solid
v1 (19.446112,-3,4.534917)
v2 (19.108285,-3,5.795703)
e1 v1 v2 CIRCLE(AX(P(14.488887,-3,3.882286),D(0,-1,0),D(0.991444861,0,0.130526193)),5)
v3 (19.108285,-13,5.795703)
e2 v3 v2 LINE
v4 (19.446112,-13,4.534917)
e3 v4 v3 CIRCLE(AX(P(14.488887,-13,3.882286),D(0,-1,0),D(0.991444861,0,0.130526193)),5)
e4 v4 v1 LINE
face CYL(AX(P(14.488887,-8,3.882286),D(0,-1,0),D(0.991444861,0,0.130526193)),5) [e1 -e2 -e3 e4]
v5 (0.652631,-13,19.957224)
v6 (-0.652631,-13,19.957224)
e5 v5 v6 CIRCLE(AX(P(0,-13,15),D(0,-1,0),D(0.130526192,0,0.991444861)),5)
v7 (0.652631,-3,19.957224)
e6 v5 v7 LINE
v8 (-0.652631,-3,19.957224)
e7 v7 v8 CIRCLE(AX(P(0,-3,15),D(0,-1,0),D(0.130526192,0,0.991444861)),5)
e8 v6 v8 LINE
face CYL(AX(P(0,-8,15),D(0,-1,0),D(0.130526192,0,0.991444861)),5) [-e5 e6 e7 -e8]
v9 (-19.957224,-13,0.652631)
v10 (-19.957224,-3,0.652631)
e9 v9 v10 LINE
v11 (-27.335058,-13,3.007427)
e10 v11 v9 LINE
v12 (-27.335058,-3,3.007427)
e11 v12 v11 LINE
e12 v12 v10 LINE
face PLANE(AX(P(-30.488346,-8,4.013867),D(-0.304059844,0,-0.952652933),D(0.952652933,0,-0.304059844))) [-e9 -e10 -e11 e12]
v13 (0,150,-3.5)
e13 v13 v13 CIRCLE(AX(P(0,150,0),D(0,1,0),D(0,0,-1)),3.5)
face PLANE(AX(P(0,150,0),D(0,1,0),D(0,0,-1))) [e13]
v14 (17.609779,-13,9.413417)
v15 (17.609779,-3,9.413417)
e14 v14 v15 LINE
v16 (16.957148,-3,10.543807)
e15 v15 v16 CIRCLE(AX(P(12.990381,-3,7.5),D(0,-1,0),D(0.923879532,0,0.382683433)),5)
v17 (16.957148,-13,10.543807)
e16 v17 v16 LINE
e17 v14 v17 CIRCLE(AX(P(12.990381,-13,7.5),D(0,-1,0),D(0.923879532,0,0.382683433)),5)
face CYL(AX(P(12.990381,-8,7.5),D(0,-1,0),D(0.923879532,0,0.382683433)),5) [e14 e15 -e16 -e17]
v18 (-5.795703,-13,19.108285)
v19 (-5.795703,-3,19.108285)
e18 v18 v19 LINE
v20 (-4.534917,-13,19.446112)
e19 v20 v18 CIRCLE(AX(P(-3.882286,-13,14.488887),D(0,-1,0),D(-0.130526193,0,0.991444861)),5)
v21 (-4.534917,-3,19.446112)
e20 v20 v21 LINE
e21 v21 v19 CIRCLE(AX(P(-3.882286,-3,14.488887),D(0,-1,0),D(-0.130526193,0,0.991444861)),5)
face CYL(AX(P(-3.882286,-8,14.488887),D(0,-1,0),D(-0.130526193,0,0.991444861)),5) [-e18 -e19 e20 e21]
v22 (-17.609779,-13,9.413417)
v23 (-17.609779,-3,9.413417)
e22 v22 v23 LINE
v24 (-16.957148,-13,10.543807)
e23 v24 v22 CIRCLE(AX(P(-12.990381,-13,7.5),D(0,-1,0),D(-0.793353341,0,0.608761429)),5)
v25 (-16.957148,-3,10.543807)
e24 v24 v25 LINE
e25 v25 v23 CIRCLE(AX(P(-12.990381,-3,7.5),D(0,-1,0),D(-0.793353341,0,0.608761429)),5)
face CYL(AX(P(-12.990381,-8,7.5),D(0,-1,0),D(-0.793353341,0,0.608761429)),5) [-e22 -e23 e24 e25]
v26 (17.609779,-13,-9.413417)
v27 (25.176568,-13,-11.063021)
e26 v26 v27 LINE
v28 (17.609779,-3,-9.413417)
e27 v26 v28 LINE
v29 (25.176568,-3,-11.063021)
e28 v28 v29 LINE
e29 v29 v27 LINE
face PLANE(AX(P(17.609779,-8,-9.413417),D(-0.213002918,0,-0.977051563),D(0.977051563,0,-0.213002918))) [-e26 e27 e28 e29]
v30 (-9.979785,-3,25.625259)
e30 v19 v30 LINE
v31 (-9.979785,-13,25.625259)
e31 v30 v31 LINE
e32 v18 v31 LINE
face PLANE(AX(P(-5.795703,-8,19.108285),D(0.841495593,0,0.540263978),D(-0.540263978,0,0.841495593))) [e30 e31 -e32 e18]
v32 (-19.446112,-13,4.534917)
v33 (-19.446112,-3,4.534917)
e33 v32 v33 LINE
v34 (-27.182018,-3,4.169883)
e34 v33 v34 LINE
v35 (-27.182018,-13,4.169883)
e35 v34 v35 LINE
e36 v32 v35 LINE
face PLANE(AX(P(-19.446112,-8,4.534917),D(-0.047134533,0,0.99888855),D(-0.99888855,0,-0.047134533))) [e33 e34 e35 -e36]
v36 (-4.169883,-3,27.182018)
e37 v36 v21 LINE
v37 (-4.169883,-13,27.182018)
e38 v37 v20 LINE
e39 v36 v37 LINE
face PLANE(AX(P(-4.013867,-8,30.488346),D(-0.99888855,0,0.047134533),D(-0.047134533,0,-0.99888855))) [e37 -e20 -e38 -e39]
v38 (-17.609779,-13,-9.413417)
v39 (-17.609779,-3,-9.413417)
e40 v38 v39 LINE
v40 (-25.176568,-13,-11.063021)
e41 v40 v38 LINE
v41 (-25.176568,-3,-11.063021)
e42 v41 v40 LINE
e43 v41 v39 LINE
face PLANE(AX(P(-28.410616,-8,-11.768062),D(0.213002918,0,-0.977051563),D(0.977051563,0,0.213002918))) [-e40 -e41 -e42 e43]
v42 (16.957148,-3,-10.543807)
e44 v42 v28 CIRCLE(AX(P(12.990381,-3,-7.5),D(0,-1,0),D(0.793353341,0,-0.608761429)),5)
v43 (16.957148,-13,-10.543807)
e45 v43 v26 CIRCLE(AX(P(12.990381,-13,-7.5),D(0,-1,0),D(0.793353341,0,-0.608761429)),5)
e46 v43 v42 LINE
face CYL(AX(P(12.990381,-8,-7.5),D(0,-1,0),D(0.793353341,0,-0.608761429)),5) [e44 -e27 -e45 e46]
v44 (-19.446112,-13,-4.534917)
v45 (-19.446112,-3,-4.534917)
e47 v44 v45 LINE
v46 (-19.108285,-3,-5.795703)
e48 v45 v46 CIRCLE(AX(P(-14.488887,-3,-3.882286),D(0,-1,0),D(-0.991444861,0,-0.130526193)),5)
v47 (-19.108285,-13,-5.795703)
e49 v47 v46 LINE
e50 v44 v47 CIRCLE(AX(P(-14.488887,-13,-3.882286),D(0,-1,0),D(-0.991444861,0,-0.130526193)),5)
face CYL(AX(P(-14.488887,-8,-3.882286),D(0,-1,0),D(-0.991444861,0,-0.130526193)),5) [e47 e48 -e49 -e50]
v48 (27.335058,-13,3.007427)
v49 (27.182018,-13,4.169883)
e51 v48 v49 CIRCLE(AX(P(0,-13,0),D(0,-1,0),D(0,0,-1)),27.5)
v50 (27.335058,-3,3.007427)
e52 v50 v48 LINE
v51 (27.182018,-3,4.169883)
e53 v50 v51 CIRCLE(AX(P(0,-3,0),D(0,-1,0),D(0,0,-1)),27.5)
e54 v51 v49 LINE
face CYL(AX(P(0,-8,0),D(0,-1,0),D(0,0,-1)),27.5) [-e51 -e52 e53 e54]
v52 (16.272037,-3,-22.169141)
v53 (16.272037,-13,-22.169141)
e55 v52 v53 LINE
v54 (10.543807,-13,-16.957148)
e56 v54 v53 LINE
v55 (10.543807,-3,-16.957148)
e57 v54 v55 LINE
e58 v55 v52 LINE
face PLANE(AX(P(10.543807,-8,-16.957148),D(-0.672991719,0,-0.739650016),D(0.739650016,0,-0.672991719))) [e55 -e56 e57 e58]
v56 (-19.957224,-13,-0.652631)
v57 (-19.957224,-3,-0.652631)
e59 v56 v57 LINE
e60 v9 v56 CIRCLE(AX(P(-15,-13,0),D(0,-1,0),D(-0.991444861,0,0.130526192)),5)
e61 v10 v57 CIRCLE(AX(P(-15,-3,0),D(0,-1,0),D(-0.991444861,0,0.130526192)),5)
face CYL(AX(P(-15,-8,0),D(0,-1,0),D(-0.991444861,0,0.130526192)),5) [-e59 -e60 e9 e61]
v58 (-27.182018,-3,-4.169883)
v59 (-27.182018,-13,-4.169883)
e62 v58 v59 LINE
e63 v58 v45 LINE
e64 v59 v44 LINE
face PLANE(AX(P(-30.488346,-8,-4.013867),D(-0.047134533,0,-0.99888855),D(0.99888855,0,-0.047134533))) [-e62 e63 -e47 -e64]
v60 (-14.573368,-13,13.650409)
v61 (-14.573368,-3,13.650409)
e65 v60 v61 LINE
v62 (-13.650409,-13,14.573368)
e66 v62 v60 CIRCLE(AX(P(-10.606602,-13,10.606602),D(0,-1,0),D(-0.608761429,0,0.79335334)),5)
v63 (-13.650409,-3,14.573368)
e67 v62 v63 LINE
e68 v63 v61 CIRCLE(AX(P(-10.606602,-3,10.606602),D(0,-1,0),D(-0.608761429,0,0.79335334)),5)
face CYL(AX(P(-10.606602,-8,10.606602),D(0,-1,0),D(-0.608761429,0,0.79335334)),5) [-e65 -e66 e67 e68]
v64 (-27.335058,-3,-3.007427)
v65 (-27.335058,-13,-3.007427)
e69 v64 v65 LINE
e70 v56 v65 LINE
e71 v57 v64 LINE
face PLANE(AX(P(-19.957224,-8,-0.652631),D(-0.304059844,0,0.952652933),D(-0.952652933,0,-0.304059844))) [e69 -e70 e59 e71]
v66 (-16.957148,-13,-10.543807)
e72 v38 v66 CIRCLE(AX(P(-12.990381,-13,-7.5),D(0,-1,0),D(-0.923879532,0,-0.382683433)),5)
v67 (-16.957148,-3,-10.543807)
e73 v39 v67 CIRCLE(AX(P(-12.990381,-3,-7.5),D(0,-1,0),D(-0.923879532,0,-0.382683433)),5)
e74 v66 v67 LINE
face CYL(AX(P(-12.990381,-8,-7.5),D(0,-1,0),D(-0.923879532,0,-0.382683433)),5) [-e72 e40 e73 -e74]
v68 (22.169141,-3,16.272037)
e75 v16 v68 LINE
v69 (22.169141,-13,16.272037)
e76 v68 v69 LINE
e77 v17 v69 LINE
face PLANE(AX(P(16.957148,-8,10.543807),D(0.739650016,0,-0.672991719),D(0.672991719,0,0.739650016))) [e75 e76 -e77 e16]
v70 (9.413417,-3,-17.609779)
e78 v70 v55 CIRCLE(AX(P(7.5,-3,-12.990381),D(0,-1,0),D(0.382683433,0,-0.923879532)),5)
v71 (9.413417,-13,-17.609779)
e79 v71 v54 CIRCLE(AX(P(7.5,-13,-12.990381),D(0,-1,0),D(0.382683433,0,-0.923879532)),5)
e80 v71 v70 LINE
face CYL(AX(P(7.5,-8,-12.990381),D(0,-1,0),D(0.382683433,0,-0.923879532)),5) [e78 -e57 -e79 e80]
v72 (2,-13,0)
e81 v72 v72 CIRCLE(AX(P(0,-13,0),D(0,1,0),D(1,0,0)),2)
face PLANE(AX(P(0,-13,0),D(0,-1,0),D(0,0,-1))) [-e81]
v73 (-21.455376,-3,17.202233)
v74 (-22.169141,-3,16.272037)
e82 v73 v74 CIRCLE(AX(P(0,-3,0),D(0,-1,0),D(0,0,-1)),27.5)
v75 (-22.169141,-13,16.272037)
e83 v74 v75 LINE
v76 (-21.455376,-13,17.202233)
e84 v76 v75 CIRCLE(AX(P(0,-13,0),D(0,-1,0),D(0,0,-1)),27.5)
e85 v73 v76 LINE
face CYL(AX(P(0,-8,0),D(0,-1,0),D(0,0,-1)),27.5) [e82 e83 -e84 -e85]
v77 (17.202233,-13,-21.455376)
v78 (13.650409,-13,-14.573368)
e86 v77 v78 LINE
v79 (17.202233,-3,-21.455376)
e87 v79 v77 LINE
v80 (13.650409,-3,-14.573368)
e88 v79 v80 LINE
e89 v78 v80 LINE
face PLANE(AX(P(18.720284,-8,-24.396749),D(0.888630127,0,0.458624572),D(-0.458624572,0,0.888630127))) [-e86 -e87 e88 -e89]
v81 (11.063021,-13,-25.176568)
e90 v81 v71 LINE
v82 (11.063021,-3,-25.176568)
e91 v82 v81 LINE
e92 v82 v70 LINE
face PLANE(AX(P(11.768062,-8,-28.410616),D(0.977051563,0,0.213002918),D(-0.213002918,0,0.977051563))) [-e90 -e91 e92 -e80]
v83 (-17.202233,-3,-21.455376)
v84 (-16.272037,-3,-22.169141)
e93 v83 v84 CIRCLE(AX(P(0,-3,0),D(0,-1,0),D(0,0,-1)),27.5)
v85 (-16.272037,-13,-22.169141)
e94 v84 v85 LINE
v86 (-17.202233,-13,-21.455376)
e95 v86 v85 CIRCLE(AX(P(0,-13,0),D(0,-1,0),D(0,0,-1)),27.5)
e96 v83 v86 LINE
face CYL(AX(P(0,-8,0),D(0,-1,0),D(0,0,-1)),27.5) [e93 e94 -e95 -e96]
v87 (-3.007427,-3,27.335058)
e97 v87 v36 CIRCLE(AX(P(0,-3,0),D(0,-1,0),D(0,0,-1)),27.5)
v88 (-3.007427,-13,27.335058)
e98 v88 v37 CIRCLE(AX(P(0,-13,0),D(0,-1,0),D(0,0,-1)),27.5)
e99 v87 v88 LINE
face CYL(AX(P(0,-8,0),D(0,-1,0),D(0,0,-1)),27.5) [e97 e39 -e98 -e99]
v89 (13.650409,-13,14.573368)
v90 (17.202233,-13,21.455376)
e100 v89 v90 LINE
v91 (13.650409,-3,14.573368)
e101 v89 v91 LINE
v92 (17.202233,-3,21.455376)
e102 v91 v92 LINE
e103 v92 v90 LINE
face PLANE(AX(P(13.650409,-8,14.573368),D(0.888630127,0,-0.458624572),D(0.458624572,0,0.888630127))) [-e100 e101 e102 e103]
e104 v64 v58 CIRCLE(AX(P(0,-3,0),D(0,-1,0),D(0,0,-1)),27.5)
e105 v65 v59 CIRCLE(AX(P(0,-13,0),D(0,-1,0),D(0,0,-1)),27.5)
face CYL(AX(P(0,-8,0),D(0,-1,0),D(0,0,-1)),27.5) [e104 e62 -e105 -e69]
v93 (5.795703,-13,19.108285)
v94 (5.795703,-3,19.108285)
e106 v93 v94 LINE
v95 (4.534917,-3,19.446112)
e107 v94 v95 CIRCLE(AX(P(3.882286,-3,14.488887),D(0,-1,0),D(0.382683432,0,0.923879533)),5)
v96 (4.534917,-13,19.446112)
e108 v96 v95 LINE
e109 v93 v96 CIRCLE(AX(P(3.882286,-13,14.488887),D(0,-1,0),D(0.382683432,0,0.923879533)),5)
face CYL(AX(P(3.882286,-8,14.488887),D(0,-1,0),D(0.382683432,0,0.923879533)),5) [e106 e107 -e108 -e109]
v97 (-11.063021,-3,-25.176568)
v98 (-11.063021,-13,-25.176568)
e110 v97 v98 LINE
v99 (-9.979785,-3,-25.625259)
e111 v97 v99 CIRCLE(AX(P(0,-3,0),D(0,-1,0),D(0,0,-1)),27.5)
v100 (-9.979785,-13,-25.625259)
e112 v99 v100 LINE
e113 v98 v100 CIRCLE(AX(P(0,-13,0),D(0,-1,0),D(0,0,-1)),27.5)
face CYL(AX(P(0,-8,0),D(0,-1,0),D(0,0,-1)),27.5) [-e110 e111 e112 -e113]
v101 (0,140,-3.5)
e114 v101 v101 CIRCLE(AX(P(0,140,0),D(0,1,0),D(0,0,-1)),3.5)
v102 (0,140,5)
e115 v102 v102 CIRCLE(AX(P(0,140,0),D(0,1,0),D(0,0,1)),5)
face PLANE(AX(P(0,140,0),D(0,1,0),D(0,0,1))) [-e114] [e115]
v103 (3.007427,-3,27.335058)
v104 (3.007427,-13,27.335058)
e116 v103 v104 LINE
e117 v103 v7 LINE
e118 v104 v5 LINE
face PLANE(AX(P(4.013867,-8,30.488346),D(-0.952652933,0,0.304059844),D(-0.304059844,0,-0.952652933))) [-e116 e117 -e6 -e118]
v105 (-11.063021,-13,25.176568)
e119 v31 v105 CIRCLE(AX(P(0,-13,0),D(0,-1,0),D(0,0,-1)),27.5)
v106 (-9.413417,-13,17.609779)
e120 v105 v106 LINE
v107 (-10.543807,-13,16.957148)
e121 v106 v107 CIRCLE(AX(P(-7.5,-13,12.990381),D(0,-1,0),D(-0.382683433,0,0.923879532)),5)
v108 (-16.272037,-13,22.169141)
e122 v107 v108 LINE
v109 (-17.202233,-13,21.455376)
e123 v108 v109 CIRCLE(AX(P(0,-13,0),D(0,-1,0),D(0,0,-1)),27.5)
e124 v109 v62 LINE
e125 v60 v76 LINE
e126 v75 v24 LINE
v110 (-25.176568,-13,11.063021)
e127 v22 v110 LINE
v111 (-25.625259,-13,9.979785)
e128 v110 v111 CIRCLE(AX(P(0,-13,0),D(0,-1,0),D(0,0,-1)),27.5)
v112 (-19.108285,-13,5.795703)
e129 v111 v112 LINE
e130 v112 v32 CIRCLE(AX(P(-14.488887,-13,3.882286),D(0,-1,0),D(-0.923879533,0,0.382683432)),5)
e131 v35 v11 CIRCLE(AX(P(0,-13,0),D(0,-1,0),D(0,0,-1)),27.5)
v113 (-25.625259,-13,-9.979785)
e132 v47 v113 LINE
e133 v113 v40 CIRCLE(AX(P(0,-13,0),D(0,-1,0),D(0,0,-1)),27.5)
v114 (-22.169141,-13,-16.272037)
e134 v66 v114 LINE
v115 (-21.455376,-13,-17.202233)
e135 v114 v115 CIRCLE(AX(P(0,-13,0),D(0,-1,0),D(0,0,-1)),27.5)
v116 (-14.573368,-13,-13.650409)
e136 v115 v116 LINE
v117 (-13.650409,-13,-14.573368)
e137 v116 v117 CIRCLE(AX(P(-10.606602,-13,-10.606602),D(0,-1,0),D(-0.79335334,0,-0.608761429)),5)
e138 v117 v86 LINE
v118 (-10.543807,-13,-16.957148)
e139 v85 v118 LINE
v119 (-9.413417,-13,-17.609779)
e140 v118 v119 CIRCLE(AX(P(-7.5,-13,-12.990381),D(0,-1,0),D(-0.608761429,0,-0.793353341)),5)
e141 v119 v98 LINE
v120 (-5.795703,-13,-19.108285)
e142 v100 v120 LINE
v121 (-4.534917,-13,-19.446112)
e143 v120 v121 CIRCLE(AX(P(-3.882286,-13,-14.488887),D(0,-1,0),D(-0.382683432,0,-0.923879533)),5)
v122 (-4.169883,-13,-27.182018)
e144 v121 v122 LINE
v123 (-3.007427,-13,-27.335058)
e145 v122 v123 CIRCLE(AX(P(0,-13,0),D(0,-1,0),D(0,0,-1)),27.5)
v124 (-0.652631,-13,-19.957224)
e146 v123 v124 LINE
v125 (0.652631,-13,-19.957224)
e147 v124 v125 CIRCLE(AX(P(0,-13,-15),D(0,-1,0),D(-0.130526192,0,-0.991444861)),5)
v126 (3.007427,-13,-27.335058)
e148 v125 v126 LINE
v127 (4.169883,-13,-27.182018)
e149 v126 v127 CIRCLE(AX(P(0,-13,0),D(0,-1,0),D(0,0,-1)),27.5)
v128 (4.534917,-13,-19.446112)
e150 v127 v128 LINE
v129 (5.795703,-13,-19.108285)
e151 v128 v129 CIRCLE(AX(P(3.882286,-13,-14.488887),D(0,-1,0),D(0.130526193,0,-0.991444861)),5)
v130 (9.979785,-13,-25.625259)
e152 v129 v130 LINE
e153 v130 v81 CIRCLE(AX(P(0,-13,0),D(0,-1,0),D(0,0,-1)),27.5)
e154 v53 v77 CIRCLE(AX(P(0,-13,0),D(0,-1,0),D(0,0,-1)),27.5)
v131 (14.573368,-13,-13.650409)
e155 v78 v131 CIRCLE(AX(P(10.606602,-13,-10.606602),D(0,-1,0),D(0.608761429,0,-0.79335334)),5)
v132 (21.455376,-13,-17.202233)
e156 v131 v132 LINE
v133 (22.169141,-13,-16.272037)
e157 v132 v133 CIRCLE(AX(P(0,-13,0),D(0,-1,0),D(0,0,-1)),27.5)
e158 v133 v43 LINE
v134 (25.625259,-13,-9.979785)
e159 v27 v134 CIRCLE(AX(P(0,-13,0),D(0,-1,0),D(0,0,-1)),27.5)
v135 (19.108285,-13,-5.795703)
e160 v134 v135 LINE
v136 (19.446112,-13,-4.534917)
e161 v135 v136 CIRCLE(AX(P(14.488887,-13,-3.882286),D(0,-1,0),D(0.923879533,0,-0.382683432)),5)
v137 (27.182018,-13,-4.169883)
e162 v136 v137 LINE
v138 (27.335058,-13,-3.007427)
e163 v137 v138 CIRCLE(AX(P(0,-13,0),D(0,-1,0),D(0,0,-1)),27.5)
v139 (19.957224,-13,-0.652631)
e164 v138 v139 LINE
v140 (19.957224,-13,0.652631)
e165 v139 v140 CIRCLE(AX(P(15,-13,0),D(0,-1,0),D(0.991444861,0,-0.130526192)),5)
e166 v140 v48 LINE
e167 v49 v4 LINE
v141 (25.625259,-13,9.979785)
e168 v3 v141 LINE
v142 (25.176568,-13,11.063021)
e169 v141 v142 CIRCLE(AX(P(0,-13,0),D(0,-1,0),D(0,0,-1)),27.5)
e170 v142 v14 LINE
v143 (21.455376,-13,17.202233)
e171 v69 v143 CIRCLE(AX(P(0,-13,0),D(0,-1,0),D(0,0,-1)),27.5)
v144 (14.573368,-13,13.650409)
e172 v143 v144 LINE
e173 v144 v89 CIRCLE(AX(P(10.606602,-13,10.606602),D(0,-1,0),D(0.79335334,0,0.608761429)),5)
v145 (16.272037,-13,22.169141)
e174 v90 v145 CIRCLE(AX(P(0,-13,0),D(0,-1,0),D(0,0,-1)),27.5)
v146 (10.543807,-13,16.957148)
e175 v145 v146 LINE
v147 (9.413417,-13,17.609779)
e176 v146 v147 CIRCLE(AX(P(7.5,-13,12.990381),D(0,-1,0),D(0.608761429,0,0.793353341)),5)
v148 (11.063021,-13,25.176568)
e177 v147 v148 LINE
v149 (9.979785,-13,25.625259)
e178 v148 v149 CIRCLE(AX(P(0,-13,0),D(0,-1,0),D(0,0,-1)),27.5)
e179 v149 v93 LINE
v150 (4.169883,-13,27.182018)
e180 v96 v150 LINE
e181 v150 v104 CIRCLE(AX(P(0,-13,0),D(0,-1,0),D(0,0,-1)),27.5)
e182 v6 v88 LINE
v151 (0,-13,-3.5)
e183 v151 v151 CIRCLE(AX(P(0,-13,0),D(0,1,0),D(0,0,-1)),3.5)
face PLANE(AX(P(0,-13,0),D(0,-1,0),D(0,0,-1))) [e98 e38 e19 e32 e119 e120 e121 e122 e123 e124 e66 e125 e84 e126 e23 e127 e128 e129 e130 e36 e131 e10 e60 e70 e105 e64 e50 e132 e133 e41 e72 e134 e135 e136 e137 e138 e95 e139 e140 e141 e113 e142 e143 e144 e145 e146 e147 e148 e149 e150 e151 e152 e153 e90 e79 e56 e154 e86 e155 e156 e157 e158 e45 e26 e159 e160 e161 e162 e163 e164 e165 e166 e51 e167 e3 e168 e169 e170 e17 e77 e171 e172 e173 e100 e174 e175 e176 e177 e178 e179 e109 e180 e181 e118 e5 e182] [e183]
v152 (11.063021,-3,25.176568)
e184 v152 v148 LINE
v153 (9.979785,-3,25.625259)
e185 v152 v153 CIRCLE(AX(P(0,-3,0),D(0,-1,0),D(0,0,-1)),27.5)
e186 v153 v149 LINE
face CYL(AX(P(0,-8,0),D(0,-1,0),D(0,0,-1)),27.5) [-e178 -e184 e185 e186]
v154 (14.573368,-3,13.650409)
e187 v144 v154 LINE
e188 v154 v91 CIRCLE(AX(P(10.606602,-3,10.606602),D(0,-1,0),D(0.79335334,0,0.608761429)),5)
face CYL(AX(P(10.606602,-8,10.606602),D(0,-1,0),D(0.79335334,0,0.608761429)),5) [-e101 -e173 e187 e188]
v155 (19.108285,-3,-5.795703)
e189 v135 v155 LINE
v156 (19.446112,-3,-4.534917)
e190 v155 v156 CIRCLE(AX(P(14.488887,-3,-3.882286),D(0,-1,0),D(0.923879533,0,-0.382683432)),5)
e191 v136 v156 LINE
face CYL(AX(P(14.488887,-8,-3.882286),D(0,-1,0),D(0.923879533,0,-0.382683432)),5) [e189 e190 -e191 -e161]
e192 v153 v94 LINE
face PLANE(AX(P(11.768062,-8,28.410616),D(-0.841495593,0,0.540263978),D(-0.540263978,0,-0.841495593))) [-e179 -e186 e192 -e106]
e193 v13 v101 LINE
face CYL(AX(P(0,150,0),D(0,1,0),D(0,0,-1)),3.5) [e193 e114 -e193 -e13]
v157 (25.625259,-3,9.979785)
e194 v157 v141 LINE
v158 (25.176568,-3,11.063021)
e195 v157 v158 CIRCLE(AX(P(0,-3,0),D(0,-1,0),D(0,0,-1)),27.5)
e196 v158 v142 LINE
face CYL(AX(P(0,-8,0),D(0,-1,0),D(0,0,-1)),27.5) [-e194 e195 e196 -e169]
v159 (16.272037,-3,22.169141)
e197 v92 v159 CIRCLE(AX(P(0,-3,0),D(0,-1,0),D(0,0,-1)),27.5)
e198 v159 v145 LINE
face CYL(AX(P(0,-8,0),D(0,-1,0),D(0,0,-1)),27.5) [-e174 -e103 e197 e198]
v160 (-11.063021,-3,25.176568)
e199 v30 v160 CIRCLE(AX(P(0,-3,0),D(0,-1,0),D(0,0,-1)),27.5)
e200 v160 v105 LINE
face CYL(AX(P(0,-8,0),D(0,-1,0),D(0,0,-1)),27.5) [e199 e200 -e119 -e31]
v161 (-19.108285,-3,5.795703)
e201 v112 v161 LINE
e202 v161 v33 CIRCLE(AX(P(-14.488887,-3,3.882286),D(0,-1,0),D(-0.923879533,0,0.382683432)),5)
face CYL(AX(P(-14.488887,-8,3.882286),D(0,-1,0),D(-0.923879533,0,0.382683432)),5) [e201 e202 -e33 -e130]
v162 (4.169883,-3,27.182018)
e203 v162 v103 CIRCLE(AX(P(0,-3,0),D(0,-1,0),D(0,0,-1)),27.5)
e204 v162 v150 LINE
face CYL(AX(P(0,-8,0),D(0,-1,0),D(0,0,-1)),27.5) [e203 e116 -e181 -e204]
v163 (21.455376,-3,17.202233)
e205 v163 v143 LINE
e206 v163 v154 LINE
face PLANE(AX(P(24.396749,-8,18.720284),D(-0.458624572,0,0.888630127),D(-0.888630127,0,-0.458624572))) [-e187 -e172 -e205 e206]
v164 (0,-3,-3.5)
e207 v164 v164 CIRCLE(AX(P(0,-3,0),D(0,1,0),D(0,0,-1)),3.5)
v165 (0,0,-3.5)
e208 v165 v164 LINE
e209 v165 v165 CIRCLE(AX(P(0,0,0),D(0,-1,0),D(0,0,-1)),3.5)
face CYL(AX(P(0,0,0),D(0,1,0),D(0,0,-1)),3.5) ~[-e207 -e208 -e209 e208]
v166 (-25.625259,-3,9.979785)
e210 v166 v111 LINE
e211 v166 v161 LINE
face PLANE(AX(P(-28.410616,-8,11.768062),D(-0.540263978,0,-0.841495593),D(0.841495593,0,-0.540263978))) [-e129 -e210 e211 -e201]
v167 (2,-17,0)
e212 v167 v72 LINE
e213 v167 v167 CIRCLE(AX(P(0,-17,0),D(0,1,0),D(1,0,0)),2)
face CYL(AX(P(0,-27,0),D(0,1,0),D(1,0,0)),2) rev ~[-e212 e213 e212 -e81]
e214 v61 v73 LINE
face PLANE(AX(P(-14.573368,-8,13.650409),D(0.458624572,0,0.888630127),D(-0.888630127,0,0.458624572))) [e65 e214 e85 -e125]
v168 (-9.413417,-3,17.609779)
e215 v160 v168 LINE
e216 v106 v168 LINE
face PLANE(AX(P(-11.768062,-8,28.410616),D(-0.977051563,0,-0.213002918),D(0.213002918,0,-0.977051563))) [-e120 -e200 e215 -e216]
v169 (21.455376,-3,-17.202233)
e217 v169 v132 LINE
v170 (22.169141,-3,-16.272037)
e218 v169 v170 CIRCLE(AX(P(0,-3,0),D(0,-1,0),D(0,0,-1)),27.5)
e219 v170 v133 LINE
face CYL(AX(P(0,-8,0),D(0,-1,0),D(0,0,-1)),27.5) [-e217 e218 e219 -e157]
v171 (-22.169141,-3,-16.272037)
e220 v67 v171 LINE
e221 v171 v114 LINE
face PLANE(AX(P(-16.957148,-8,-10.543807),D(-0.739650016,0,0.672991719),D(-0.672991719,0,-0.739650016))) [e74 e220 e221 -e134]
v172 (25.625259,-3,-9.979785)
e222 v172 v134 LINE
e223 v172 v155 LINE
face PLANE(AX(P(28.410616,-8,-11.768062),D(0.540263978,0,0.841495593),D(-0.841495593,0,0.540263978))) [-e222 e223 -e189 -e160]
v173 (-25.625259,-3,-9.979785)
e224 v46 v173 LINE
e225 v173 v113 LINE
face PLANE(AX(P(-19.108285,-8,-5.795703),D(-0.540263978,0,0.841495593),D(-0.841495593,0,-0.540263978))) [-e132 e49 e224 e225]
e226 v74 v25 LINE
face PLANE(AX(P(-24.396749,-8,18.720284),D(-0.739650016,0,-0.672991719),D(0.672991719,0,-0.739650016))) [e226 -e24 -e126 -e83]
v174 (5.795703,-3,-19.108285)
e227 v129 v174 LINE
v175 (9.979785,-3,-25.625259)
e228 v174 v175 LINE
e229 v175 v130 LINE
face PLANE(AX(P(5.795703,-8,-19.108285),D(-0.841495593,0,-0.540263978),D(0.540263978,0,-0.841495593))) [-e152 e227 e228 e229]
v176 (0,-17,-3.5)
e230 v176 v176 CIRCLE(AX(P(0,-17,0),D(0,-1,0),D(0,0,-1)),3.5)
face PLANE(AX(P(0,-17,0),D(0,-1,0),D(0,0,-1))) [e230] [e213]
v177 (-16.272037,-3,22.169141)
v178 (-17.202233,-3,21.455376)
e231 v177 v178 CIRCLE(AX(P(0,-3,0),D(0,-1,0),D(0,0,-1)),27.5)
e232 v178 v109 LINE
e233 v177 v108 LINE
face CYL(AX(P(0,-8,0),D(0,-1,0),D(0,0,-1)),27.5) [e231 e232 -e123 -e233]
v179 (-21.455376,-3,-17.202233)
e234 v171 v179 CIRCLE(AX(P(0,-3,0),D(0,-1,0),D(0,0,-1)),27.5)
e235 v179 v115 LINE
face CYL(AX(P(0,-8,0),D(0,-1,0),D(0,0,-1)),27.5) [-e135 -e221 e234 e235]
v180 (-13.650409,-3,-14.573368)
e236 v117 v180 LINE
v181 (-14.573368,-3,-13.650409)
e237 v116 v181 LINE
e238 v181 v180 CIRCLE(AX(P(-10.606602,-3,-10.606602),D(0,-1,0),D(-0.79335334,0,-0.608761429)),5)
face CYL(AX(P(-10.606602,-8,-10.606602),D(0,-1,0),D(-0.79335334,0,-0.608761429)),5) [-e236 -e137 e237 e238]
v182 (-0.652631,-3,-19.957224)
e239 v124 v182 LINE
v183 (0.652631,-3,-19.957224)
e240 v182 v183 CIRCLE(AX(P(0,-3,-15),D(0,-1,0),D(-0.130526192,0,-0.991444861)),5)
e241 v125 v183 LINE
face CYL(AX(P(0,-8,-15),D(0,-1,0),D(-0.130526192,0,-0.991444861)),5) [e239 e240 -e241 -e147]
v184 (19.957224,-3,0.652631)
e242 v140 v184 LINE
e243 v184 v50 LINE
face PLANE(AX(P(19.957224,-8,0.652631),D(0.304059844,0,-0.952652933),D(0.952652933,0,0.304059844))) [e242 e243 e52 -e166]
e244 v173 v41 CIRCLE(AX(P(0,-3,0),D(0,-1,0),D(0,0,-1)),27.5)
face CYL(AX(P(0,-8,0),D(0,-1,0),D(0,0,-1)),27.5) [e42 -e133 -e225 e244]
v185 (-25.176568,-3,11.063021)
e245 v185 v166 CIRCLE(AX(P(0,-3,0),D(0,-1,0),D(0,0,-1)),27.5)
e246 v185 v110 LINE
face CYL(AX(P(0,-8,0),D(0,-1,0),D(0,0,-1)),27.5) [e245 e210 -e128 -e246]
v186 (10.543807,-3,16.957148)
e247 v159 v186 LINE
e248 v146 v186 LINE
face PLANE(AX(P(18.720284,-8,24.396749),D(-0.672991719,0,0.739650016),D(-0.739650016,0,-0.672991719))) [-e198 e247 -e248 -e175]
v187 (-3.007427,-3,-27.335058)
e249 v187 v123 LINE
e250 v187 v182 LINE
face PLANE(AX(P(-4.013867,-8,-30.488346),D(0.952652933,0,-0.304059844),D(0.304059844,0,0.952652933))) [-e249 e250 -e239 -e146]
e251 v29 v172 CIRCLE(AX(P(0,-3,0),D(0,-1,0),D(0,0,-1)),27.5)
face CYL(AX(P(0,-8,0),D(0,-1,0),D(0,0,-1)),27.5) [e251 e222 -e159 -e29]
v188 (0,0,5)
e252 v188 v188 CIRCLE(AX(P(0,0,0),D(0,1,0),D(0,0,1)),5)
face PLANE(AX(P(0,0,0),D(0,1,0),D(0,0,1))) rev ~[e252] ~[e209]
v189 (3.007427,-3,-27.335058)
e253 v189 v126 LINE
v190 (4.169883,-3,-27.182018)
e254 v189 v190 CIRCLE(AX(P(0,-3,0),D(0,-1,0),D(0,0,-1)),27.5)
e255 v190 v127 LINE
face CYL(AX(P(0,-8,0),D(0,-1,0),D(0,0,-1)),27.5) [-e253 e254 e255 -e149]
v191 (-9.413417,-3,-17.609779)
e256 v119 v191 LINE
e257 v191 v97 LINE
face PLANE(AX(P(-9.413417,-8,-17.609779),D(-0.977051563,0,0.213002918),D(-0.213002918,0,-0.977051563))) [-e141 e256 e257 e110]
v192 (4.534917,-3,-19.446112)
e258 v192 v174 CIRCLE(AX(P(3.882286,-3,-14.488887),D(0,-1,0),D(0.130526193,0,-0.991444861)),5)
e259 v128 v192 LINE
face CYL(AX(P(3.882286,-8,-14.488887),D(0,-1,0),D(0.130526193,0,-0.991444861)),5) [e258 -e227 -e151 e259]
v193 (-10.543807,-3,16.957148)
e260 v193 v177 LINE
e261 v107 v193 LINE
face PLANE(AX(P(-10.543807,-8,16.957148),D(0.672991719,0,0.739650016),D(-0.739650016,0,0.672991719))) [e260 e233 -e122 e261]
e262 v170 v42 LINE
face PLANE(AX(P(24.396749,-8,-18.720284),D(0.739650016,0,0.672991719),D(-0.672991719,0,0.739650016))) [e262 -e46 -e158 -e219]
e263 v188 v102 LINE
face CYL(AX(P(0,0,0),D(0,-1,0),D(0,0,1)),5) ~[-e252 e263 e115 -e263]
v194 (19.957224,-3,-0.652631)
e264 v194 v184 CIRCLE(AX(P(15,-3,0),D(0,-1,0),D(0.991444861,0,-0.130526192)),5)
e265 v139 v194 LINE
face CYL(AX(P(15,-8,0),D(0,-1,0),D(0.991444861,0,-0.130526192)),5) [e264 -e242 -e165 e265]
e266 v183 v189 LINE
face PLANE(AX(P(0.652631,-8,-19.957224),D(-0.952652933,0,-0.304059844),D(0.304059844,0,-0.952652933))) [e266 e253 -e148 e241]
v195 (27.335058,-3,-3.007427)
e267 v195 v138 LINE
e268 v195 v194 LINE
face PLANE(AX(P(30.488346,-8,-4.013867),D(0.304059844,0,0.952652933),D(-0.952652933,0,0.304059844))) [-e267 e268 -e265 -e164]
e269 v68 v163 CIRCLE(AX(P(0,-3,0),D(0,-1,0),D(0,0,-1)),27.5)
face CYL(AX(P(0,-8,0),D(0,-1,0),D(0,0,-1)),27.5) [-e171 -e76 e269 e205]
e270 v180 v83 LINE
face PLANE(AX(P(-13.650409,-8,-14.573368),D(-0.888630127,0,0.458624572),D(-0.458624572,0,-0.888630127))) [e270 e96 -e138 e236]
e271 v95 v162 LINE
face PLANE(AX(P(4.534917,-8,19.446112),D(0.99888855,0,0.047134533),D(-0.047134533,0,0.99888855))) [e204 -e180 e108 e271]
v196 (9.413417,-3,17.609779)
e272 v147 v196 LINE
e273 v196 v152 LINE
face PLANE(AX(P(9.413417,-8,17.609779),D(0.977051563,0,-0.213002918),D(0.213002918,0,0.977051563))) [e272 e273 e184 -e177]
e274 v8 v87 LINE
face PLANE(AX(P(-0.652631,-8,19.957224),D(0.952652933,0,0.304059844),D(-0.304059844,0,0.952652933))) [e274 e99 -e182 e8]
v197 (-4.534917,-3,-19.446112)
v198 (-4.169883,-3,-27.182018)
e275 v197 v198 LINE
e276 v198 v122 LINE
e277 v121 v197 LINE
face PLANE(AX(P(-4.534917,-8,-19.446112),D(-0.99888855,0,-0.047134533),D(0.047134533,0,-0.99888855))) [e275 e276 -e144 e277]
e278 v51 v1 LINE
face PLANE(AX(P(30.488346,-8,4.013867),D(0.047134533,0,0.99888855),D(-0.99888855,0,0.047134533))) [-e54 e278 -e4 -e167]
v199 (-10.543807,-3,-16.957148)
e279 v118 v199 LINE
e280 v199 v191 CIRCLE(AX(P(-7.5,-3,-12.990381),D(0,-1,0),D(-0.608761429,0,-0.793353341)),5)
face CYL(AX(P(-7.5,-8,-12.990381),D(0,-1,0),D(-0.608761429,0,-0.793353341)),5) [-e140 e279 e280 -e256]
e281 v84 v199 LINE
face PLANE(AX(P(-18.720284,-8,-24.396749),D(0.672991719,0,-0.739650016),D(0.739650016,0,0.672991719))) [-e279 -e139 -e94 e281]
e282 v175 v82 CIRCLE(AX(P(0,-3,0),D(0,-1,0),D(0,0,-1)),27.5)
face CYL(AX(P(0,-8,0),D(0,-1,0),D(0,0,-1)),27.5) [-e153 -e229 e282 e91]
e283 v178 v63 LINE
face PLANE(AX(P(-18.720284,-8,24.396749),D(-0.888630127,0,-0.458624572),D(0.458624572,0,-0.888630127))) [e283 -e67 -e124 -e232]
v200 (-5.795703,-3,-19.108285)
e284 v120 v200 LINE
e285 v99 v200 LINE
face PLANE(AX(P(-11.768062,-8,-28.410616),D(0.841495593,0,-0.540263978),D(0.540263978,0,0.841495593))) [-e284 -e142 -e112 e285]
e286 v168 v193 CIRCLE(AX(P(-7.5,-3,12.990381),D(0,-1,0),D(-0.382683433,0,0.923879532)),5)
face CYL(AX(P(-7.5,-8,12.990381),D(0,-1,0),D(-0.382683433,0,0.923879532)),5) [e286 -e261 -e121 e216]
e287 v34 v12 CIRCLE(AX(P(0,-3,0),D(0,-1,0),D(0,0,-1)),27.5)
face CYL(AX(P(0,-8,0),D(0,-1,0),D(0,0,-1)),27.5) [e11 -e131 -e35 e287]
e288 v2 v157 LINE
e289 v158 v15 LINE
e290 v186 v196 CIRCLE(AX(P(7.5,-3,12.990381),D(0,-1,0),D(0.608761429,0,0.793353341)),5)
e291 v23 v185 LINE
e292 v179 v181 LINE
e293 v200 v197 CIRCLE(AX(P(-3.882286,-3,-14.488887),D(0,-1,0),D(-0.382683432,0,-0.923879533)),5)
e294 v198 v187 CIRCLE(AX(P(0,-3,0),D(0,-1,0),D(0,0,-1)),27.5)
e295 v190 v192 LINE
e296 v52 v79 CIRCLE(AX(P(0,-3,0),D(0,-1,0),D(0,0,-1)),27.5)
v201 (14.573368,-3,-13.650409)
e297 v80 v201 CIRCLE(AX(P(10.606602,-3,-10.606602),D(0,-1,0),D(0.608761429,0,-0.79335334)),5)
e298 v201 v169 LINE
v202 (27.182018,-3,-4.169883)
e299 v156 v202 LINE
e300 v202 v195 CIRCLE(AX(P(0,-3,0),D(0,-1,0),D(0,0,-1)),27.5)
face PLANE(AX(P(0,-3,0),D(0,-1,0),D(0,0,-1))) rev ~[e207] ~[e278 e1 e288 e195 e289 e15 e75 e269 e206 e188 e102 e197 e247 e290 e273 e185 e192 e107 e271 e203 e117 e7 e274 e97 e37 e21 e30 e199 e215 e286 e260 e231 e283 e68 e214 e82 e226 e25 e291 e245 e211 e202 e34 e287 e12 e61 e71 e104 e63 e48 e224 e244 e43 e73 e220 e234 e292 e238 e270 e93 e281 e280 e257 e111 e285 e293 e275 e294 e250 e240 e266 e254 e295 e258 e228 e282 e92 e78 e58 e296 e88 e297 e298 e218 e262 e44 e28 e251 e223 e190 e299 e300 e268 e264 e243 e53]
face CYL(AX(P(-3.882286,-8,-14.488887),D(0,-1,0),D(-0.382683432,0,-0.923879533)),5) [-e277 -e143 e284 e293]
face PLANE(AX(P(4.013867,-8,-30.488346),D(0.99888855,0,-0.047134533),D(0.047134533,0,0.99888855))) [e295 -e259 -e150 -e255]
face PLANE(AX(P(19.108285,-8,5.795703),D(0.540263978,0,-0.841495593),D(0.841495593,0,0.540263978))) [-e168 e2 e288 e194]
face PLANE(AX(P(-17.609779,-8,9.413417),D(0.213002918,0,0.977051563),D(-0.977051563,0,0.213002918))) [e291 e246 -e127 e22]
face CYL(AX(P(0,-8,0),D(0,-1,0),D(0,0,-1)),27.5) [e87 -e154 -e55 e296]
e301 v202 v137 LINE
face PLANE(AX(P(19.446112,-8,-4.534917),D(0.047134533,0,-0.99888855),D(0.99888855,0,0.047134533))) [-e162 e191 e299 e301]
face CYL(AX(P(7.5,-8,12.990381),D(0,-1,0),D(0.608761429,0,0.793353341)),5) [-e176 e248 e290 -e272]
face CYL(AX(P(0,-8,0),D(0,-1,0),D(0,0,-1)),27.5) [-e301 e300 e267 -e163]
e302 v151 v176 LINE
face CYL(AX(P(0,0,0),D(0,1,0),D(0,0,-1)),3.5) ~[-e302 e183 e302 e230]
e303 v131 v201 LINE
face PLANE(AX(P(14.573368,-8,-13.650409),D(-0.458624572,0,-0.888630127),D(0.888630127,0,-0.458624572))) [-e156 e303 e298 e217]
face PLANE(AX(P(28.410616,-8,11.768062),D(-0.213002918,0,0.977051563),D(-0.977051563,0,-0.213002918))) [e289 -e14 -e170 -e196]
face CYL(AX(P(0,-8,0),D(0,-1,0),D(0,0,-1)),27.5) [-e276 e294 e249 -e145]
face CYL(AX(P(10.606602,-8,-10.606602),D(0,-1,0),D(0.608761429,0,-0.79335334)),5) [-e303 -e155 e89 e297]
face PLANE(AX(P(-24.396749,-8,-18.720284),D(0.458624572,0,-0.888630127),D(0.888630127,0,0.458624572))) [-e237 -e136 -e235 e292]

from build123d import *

# Parameters (mm, degrees)
SKETCH1_R                 = 5
CENTERSCREW_DEPTH         = 140
SKETCH2_R                 = 3.5
TEETHWHEELCONNECTOR_DEPTH = 17
INNERHOLE_D               = 4
INNERHOLE_DEPTH           = 10
INNERHOLE_TIP             = 1.201721238
SKETCH5_R                 = 27.5
BOSS_EXTRUDE3_DEPTH       = 5
CUT_EXTRUDE5_DEPTH        = 5
CIRPATTERN1_COUNT         = 24
BOSS_EXTRUDE4_START       = 10
SKETCH10_R                = 3.5
BOSS_EXTRUDE4_DEPTH       = 10


with BuildPart() as part:
    # Sketch1 → centerScrew (new body)
    with BuildSketch(Plane(origin=(0, 0, 0), x_dir=(1, 0, 0), z_dir=(0, 1, 0))):
        with Locations(Location((0, 0, 0), (0, 0, 270))):
            Circle(SKETCH1_R)
    extrude(amount=CENTERSCREW_DEPTH)

    # Sketch2 → teethWheelConnector (add)
    with BuildSketch(Plane.XZ):
        with Locations(Location((0, 0, 0), (0, 0, 270))):
            Circle(SKETCH2_R)
    extrude(amount=TEETHWHEELCONNECTOR_DEPTH)

    # innerHole
    with Locations(Plane(origin=(0, -17, 0), x_dir=(-1, 0, 0), z_dir=(0, -1, 0))):
        with Locations((0, 0)):
            Hole(INNERHOLE_D / 2, depth=INNERHOLE_DEPTH)
            with Locations((0, 0, -(INNERHOLE_DEPTH + INNERHOLE_TIP / 2))):  # 118° drill point
                Cone(0, INNERHOLE_D / 2, INNERHOLE_TIP, mode=Mode.SUBTRACT)

    # Sketch5 → Boss-Extrude3 (add, symmetric)
    with BuildSketch(Plane(origin=(0, -8, 0), x_dir=(-1, 0, 0), z_dir=(0, -1, 0))):
        with Locations(Location((0, 0, 0), (0, 0, 90))):
            Circle(SKETCH5_R)
    extrude(amount=BOSS_EXTRUDE3_DEPTH, both=True)

    # Sketch9 → Cut-Extrude5 (cut, symmetric)
    with BuildSketch(Plane(origin=(0, -8, 0), x_dir=(-1, 0, 0), z_dir=(0, -1, 0))):
        with BuildLine():
            Line((4.013866942, 30.488346334), (0.652630961, 19.957224307))
            ThreePointArc((0.652630961, 19.957224307), (0, 20), (-0.652630961, 19.957224307))
            Line((-0.652630961, 19.957224307), (-4.013866942, 30.488346334))
            ThreePointArc((-4.013866942, 30.488346334), (0, 31), (4.013866942, 30.488346334))
        make_face()
    cut_extrude5 = extrude(amount=CUT_EXTRUDE5_DEPTH, both=True, mode=Mode.SUBTRACT)

    # CirPattern1: Cut-Extrude5 ×24 about axis
    cirpattern1_axis = Axis((0, 0, 0), (0, 1, 0))
    for i in range(1, CIRPATTERN1_COUNT):
        add(cut_extrude5.rotate(cirpattern1_axis, i * 360 / CIRPATTERN1_COUNT), mode=Mode.SUBTRACT)

    # Sketch10 → Boss-Extrude4 (add)
    with BuildSketch(Plane(origin=(0, 140, 0), x_dir=(1, 0, 0), z_dir=(0, 1, 0)).offset(BOSS_EXTRUDE4_START)):
        with Locations(Location((0, 0, 0), (0, 0, 90))):
            Circle(SKETCH10_R)
    extrude(amount=-BOSS_EXTRUDE4_DEPTH)


solid = part.part
